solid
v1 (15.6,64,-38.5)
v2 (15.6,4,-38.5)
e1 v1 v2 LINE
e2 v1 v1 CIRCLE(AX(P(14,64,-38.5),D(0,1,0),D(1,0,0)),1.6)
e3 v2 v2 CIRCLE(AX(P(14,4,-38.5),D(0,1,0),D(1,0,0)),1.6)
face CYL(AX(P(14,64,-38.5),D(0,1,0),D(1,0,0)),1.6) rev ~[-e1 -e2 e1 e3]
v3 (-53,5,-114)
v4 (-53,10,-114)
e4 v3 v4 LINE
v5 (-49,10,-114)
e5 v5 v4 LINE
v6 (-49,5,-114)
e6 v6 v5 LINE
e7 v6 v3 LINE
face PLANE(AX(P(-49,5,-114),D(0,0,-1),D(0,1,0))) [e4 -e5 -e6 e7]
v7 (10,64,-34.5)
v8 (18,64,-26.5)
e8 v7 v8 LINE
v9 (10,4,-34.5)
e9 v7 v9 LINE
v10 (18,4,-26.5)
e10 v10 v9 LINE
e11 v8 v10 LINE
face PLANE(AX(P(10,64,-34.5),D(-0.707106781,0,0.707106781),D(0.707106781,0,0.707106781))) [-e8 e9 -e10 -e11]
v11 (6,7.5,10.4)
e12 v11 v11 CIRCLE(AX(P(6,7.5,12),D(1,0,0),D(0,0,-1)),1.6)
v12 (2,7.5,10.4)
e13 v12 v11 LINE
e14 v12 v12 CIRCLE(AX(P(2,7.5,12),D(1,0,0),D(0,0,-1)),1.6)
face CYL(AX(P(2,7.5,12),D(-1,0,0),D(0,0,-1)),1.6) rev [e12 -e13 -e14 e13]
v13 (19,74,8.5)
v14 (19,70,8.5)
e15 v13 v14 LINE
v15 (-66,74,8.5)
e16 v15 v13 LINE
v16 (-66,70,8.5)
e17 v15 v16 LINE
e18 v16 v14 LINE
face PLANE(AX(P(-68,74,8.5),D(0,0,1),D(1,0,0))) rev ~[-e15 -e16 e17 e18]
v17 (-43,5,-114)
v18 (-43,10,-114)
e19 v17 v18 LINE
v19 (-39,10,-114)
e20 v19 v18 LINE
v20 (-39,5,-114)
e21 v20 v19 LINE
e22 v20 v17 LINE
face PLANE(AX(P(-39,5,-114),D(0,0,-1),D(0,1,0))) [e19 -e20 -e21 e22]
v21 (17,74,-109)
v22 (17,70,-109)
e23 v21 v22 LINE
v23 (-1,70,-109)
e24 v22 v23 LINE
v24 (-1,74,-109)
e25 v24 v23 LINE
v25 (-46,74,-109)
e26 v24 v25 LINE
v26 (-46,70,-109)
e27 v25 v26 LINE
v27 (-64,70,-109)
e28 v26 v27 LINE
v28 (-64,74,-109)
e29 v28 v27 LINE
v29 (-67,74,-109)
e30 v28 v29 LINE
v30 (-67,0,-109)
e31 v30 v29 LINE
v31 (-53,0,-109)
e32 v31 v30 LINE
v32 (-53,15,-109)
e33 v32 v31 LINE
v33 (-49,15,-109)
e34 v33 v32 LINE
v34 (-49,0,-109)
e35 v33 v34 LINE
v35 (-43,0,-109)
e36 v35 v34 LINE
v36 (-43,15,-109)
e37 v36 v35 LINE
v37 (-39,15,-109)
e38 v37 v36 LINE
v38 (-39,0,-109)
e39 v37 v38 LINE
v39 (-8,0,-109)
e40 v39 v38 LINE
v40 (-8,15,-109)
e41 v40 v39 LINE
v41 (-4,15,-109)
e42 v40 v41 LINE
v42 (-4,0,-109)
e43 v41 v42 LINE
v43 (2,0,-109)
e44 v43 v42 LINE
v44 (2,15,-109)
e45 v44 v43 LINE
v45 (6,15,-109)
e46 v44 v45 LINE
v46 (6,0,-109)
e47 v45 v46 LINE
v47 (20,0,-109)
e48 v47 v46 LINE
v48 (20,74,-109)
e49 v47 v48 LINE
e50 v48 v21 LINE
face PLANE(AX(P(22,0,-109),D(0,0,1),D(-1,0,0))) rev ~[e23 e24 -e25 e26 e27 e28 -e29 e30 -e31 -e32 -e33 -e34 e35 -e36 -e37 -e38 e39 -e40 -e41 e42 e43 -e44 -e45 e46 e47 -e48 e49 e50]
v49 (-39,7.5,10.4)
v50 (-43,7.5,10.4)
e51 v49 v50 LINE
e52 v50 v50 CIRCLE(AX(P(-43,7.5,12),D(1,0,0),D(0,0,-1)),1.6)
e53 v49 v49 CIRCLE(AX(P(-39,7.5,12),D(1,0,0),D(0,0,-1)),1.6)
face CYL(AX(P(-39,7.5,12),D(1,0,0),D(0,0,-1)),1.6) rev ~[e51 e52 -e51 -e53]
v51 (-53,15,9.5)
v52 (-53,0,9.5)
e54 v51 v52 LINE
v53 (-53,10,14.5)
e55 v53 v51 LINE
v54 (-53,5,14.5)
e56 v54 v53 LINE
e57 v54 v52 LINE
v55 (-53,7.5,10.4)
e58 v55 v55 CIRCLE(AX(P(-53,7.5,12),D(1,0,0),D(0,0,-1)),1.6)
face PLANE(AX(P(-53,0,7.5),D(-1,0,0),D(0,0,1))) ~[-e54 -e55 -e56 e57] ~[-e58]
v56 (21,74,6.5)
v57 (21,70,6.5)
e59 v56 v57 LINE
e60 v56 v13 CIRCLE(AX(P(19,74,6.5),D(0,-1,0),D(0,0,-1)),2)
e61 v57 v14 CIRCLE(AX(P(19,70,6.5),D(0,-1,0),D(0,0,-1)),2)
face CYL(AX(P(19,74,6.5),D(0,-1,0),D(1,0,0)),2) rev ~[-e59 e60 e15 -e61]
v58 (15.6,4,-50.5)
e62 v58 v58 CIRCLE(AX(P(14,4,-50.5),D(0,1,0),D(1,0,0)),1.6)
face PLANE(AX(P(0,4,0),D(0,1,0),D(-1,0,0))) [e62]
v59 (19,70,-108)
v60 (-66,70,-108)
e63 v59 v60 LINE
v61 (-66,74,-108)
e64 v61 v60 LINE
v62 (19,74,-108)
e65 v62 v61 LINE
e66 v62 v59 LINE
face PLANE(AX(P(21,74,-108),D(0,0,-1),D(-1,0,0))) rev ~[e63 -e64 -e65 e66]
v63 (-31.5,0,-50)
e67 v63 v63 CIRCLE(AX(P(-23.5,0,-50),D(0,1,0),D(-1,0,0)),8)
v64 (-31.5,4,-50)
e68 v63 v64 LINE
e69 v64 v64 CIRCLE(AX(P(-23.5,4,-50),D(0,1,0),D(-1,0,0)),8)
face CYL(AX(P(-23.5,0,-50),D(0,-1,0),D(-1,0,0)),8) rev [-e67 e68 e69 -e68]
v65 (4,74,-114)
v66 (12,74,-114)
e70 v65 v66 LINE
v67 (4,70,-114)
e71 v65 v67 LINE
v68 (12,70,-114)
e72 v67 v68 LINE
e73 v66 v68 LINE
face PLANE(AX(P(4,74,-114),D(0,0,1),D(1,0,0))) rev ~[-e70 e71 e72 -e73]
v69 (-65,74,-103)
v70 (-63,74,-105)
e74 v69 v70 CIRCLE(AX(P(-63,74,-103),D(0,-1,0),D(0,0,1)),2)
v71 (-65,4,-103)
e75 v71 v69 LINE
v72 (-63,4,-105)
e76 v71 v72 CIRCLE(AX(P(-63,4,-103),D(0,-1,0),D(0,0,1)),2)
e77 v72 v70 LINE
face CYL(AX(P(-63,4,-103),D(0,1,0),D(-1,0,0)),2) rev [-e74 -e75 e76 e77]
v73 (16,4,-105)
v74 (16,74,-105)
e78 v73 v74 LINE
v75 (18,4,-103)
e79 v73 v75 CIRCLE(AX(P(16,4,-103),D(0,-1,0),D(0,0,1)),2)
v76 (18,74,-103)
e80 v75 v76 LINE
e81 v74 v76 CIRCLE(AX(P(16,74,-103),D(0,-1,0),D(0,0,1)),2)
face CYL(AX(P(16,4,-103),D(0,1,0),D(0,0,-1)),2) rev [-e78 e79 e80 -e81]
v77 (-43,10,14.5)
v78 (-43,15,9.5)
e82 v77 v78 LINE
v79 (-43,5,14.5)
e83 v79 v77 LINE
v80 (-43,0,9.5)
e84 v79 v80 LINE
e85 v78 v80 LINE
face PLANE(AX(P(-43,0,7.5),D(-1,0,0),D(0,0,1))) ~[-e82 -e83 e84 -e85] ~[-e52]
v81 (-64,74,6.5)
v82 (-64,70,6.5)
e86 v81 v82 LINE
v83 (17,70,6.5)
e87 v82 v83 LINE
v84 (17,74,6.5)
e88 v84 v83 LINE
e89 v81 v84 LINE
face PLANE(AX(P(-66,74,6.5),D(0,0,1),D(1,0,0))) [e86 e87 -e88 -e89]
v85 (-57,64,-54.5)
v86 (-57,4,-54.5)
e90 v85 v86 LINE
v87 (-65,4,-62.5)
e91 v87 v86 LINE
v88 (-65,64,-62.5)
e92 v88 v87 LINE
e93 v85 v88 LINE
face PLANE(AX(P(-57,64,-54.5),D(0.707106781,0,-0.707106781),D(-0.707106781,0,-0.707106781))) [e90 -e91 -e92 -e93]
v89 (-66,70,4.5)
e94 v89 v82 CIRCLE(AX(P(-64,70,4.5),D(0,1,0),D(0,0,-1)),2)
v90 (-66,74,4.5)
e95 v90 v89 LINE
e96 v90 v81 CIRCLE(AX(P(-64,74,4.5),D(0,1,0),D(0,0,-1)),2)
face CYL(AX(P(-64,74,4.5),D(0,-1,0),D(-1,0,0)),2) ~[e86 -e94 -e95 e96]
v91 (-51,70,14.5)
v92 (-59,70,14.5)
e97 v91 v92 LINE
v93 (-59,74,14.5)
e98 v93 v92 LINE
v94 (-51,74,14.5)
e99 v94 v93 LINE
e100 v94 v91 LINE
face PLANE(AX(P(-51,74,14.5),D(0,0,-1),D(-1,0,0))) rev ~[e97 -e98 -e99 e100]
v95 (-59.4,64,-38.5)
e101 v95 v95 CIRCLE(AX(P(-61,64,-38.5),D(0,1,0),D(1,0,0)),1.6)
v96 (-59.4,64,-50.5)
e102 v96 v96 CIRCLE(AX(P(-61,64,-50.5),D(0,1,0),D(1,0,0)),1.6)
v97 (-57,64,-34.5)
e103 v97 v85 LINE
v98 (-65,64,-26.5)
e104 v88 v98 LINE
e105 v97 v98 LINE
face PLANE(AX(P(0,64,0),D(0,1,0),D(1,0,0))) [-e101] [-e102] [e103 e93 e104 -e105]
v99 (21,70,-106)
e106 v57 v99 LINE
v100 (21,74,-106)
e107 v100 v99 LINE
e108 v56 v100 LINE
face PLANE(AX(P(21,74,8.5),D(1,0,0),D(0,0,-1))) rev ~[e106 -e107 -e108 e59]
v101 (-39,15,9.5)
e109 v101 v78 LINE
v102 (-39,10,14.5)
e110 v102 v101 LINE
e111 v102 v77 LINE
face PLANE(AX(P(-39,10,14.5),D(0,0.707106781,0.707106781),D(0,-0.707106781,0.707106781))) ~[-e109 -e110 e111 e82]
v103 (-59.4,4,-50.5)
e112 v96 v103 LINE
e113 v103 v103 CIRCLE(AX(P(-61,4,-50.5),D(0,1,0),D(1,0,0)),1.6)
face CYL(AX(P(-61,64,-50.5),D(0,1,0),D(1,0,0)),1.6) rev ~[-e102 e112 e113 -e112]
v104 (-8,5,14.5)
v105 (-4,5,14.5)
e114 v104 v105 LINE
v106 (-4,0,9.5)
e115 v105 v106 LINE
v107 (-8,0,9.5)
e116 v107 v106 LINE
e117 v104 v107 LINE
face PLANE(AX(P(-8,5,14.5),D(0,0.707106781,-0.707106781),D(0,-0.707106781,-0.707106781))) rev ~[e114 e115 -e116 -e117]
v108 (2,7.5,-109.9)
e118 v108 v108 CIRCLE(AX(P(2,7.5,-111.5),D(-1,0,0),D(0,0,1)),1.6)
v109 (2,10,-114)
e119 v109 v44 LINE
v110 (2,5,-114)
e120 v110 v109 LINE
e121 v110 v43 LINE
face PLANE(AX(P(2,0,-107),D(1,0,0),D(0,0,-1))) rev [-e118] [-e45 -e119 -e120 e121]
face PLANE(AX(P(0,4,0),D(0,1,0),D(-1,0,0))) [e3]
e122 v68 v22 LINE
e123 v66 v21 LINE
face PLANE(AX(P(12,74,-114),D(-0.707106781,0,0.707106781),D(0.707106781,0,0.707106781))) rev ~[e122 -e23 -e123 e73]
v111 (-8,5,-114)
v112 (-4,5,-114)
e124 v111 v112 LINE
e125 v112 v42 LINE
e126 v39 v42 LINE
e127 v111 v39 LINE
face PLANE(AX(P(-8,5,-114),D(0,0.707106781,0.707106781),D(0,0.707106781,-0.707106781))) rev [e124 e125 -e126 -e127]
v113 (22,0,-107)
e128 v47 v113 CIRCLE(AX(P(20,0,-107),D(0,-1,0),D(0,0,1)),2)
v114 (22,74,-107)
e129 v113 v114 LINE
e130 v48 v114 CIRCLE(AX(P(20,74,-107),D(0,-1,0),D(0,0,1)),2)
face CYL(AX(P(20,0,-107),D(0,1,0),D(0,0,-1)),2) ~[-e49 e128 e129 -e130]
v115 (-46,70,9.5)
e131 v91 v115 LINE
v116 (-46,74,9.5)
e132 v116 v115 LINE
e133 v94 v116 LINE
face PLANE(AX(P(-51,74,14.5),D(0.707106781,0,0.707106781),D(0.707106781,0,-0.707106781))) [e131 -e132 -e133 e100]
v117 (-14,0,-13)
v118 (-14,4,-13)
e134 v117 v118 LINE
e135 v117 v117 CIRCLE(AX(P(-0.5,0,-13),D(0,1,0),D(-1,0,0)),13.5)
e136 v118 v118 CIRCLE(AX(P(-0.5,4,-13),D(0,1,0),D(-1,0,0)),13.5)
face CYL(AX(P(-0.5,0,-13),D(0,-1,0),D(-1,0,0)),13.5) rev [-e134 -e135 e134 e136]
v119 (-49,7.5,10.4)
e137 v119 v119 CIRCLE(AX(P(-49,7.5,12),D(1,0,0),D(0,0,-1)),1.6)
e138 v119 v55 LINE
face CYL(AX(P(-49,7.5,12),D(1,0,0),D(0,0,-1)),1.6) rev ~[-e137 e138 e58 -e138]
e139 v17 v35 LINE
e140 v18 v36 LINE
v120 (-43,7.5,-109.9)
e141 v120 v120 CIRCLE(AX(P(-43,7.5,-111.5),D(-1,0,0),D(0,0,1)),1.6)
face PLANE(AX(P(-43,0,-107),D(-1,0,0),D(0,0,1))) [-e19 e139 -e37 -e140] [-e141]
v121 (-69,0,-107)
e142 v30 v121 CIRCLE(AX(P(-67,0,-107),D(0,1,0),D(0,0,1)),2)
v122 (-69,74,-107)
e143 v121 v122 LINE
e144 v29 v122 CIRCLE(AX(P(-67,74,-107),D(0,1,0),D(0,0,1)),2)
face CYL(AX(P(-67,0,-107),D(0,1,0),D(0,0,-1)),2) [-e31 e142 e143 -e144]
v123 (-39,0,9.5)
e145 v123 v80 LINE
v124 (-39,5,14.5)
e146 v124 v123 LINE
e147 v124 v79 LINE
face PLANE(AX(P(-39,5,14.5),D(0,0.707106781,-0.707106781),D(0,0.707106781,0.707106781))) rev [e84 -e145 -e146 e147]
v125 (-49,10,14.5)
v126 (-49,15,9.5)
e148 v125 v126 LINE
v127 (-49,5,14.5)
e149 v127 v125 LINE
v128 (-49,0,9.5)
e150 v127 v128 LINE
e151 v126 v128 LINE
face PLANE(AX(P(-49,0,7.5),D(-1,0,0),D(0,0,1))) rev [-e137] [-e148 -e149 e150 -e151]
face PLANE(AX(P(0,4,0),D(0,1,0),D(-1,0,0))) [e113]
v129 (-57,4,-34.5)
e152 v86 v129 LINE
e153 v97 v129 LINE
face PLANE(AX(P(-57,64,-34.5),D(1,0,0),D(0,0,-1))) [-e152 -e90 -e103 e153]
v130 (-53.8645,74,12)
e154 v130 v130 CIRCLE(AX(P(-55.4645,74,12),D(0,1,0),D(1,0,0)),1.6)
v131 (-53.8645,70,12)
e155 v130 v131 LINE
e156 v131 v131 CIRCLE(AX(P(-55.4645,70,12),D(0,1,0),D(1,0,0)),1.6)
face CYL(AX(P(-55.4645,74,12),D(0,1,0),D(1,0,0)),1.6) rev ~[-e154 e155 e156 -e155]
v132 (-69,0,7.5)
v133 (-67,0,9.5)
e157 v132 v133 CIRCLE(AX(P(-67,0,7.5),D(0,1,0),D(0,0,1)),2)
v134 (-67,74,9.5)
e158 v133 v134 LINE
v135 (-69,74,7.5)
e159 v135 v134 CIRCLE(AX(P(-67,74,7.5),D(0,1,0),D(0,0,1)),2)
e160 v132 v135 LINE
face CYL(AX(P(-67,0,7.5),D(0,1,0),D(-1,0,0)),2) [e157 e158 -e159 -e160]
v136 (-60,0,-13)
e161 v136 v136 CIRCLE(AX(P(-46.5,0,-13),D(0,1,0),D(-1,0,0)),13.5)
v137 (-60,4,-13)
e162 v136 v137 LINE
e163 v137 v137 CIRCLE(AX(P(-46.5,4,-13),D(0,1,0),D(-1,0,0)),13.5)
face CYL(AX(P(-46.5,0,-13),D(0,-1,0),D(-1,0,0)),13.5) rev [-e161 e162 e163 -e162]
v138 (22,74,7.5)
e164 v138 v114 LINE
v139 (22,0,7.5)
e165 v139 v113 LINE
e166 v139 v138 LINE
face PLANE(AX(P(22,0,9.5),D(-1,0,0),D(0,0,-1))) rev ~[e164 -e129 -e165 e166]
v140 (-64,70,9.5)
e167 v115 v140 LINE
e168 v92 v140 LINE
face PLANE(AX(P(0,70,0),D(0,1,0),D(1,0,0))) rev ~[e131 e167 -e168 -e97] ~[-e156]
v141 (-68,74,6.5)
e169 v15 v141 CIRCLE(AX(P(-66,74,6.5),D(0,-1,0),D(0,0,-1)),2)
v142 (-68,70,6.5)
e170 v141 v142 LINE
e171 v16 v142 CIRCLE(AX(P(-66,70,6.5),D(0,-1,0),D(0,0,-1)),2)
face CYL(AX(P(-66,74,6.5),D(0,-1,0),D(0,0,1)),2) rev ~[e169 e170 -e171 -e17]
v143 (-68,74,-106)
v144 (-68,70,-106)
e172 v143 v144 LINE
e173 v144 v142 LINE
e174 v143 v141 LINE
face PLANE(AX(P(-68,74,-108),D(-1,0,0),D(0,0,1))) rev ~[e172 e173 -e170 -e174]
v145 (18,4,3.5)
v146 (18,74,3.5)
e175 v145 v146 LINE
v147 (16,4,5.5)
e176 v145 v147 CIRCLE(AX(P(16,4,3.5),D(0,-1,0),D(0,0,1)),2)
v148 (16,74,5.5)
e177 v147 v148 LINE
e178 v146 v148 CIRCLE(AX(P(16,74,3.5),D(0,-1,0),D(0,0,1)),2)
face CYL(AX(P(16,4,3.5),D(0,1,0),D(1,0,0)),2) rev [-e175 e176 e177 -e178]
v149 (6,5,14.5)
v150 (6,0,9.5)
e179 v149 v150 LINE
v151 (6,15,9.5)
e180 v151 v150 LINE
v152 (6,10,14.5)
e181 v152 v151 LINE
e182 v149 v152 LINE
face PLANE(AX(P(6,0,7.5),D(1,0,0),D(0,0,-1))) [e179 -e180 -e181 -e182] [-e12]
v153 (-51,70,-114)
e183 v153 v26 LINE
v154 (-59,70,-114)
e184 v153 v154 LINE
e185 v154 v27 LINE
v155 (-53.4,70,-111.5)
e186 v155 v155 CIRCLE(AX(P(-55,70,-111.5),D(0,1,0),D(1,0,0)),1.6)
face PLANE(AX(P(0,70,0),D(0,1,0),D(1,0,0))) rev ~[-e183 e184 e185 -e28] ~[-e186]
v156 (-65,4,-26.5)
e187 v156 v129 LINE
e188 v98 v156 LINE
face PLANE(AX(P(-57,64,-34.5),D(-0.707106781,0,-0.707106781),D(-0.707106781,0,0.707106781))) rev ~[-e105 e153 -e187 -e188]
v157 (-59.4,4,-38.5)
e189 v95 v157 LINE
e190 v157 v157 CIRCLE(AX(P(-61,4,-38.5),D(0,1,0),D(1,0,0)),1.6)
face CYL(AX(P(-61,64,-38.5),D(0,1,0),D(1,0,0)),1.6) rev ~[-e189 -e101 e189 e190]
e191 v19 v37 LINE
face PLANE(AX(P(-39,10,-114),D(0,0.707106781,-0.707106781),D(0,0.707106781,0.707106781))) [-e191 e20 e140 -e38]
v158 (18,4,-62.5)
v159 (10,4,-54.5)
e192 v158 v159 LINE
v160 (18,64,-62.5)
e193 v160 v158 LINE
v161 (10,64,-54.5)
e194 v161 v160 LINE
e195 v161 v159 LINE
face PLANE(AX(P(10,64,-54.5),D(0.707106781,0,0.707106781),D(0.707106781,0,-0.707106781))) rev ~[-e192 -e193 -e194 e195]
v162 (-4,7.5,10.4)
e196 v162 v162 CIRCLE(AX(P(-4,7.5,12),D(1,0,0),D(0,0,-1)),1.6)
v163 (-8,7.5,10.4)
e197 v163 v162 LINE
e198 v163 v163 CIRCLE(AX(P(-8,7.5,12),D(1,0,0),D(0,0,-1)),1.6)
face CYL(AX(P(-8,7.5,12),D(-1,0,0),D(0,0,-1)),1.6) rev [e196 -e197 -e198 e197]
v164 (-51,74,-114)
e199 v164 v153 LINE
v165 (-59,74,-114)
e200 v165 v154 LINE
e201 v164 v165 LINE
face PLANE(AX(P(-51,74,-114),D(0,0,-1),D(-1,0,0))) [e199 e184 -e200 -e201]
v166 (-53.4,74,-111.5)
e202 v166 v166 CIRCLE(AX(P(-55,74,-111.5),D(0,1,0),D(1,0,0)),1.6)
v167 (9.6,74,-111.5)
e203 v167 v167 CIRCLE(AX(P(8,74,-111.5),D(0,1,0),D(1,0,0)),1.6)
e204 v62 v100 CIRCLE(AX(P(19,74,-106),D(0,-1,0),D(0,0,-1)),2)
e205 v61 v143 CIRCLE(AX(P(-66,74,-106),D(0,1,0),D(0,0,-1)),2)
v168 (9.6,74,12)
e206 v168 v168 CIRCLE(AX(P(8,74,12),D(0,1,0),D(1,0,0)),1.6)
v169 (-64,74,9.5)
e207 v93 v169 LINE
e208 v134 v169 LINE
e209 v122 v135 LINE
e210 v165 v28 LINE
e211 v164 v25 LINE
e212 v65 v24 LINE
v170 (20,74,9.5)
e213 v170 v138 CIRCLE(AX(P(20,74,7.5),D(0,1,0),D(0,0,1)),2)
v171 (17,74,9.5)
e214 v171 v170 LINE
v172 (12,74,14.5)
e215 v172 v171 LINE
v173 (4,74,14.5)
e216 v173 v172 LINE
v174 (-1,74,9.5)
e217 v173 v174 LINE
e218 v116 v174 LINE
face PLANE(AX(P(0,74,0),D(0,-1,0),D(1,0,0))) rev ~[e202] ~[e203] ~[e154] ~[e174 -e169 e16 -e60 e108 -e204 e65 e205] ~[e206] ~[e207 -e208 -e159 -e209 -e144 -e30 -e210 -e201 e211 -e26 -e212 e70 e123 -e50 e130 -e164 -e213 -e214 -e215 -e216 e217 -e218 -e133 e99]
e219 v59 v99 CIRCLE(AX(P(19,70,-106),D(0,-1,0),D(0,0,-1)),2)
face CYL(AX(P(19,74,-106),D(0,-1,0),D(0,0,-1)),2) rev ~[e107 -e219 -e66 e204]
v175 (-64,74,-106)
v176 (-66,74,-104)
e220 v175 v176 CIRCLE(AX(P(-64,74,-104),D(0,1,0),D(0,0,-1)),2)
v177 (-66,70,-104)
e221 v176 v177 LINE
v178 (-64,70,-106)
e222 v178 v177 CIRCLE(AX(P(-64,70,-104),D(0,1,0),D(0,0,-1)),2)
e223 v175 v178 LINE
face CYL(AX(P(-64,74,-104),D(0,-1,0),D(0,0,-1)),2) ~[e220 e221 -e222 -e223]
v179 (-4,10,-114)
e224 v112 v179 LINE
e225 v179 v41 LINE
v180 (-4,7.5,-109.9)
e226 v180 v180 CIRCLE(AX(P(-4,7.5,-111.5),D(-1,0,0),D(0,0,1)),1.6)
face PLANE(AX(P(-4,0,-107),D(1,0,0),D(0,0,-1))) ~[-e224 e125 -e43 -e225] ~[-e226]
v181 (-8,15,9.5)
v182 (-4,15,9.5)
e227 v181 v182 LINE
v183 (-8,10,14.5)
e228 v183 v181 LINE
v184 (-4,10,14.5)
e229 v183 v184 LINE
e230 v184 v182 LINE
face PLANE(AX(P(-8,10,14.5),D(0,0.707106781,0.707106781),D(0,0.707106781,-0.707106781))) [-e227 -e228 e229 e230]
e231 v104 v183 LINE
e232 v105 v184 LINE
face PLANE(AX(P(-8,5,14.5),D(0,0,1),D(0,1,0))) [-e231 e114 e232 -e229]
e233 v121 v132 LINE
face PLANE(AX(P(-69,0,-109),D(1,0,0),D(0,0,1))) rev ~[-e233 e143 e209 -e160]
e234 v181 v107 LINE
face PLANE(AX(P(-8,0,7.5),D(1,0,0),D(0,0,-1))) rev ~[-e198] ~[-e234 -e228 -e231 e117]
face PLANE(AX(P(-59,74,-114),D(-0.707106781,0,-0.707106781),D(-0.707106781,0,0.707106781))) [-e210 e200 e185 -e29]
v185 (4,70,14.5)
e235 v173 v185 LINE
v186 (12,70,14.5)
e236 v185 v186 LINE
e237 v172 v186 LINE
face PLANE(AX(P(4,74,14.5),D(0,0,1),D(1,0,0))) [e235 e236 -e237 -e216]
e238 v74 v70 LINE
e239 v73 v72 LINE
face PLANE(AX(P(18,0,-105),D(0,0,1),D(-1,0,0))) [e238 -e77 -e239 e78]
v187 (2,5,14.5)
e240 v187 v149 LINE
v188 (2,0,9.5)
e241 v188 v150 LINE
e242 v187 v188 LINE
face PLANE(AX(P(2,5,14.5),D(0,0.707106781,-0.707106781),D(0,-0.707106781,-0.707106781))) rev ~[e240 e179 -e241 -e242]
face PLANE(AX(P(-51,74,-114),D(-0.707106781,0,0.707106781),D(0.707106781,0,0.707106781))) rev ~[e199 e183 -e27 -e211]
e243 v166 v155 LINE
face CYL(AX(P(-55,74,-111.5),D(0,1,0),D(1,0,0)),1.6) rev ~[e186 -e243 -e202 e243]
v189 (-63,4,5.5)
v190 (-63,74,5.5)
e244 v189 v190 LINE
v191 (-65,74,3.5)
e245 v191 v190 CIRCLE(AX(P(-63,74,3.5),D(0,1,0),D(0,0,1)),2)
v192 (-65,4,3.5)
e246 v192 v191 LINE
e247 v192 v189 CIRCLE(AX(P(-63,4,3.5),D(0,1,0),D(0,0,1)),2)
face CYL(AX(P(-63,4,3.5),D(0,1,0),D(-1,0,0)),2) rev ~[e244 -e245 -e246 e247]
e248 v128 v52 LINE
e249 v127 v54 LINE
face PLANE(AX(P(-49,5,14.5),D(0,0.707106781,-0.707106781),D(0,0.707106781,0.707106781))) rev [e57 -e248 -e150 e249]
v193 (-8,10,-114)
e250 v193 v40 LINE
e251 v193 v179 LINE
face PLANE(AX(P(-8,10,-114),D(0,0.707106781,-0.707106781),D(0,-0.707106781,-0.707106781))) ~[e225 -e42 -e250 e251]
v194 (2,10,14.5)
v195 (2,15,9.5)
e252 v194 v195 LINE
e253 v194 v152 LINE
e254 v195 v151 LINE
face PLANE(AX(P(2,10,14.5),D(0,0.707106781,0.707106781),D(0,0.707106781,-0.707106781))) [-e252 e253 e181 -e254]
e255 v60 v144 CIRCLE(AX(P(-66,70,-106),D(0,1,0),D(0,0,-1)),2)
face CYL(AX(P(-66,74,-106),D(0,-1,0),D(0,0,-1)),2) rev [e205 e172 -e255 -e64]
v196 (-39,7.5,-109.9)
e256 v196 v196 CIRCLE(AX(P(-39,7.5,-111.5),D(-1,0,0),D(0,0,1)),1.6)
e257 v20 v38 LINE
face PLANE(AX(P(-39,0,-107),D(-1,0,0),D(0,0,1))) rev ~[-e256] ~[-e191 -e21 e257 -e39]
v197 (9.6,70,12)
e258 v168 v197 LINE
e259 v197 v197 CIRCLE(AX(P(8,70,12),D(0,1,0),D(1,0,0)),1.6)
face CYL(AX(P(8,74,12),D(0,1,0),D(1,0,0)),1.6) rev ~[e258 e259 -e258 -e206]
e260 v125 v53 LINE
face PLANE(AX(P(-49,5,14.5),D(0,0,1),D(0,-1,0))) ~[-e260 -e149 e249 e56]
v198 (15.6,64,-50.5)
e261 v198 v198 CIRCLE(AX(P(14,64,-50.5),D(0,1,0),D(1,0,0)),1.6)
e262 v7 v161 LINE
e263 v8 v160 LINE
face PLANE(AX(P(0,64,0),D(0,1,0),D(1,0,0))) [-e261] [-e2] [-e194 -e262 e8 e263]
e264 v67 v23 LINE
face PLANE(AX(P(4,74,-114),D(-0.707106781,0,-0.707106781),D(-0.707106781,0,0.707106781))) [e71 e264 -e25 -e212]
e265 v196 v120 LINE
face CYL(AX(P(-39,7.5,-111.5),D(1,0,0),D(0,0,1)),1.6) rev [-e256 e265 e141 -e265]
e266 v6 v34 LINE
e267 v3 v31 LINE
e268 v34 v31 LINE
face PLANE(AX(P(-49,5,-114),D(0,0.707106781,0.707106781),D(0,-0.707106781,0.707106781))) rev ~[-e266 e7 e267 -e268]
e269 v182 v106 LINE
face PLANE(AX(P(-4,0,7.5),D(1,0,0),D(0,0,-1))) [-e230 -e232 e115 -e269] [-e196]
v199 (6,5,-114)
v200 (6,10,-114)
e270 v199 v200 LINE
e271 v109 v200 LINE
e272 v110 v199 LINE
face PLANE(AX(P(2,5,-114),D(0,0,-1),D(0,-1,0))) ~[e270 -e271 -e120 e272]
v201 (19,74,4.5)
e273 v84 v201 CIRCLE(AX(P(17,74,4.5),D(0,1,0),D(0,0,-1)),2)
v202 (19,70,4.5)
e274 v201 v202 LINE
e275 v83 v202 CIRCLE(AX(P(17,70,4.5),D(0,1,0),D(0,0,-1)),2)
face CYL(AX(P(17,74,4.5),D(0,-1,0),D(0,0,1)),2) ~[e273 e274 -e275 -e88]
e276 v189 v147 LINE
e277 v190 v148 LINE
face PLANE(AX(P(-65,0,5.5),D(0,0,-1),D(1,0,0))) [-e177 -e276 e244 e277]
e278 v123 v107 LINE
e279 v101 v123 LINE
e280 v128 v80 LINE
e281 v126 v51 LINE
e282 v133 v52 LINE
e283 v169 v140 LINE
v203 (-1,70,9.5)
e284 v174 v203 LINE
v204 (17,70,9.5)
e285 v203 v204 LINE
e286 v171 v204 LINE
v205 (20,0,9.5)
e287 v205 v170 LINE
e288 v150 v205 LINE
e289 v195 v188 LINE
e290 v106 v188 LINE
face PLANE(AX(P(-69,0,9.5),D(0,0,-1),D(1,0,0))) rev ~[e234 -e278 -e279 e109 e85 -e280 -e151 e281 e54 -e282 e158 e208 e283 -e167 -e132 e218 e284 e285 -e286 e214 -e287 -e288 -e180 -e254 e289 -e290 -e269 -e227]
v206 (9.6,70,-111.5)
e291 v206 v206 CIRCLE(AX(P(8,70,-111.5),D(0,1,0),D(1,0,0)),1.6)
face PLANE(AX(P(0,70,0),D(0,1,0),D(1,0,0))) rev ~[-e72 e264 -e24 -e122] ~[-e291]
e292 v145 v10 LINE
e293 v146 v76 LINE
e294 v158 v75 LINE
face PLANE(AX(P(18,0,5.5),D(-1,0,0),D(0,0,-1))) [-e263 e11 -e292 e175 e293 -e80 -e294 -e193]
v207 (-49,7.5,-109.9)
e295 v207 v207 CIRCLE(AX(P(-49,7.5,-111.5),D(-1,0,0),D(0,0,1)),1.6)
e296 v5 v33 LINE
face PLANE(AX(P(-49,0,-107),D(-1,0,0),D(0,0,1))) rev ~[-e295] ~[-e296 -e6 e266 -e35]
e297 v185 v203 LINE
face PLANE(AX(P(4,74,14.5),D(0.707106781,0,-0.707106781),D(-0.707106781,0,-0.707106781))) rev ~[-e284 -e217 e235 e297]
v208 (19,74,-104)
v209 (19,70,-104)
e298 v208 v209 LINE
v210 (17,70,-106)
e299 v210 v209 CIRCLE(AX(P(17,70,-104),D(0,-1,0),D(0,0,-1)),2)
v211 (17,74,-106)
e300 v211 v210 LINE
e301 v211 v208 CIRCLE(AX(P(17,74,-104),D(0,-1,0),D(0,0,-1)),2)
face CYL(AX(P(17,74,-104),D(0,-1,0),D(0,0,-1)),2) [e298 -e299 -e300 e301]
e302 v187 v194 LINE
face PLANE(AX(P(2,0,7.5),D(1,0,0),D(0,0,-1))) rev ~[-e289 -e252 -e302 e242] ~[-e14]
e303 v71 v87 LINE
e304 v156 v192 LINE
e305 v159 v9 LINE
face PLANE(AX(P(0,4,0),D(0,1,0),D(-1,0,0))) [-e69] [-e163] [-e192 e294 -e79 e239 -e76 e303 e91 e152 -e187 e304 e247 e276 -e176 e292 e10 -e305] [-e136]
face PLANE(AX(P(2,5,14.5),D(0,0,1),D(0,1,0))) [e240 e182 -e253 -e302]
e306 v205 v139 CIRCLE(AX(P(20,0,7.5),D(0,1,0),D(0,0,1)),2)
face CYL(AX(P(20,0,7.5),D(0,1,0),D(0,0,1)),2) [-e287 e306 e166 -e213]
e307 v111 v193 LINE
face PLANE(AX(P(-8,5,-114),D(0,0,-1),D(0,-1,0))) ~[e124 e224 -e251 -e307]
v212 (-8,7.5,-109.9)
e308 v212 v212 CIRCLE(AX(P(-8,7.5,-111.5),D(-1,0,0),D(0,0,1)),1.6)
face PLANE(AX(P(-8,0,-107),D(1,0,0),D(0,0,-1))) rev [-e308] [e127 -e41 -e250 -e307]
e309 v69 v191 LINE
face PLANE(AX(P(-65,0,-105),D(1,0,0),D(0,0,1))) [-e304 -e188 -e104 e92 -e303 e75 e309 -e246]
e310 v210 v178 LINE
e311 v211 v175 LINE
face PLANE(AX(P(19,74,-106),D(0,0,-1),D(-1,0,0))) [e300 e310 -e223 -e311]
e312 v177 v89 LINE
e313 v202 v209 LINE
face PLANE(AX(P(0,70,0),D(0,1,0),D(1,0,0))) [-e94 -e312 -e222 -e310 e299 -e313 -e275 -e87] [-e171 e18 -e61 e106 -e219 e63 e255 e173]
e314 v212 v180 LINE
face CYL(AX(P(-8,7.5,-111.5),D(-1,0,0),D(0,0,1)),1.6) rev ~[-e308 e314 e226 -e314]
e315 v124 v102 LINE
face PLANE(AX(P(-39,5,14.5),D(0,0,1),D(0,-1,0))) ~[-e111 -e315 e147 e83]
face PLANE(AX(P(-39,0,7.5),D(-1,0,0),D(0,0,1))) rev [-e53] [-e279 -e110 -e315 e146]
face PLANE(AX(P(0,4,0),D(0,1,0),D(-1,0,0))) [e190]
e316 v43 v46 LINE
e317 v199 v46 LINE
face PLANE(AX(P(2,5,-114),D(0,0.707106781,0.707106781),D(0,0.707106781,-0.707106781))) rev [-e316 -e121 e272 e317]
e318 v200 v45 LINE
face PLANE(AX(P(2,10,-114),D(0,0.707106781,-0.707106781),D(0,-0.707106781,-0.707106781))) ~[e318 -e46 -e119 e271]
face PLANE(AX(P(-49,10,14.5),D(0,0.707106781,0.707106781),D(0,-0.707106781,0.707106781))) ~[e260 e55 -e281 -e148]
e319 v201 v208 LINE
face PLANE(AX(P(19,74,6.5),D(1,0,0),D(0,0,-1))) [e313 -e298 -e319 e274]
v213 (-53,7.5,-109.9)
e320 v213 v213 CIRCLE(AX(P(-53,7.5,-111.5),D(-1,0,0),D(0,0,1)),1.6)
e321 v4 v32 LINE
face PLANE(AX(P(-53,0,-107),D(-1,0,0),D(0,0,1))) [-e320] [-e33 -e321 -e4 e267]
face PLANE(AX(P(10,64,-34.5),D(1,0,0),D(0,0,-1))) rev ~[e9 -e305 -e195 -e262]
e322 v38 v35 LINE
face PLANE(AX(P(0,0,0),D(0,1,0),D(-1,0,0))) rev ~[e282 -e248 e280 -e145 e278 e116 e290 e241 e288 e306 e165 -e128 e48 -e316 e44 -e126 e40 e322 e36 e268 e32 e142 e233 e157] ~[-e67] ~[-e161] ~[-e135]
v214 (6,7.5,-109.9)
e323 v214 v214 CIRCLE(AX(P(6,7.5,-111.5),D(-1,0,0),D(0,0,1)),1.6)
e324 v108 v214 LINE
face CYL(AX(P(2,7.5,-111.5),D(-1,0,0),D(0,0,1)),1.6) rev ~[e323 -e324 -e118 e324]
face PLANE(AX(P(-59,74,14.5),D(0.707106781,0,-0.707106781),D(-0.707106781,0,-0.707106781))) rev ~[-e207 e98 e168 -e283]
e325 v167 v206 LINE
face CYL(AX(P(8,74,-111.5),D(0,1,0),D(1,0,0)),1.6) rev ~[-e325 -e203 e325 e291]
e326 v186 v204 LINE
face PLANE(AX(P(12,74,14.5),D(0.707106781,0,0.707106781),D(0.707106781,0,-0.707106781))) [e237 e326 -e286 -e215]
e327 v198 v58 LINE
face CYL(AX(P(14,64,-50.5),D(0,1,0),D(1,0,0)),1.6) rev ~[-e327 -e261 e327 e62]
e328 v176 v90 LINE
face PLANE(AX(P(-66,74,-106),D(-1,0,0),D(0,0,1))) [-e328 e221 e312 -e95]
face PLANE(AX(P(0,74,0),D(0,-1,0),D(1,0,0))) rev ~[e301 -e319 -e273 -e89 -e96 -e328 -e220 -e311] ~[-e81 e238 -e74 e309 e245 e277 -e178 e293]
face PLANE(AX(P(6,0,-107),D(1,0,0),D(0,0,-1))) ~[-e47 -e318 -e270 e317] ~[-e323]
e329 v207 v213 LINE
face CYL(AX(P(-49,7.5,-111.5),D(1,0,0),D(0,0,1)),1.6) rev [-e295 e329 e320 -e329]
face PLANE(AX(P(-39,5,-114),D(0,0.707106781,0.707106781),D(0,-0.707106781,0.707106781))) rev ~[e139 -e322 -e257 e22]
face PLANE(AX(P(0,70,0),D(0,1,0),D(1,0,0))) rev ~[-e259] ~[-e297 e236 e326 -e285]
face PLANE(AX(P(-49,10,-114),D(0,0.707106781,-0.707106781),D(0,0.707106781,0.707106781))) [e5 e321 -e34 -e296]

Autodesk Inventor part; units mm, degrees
ref_plane "YZ Plane" through (0, 0, 0) normal (1, 0, 0) x (0, 1, 0)
ref_plane "XZ Plane" through (0, 0, 0) normal (0, 1, 0) x (-1, 0, 0)
ref_plane "XY Plane" through (0, 0, 0) normal (0, 0, 1) x (1, 0, 0)
sketch "Sketch1" plane through (0, 0, 0) normal (0, 1, 0) x (-1, 0, 0)
  line L0 (0, 0) -> (47, 0) construction
  line L1 (47, 0) -> (47, -100) construction
  line L2 (47, -100) -> (0, -100) construction
  line L3 (0, -100) -> (0, 0) construction
  circle A0 centre (4, -4) radius 1.6 construction
  circle A1 centre (43, -4) radius 1.6 construction
  circle A2 centre (43, -96) radius 1.729 construction
  line L4 (23.5, 0) -> (23.5, -100) construction
  line L5 (23.5, -13) -> (18.5, -13) construction
  line L6 (18.5, -13) -> (0.5, -13) construction
  circle A3 centre (0.5, -13) radius 13.5 construction
  line L7 (23.5, -13) -> (46.5, -13) construction
  circle A4 centre (46.5, -13) radius 13.5 construction
  circle A5 centre (46.5, -13) radius 13.5
  circle A6 centre (0.5, -13) radius 13.5
  circle A7 centre (23.5, -50) radius 8
  line L8 (65, 5.5) -> (-18, 5.5)
  line L9 (-18, 5.5) -> (-18, -105)
  line L10 (-18, -105) -> (65, -105)
  line L11 (65, -105) -> (65, 5.5)
  dimension "d0" = 47
  dimension "d1" = 100
  dimension "d2" = 3.2
  dimension "d3" = 4
  dimension "d4" = 4
  dimension "d5" = 4
  dimension "d6" = 43
  dimension "d7" = 3.2
  dimension "d8" = 43
  dimension "d9" = 96
  dimension "d11" = 23.5
  dimension "d12" = 5
  dimension "d13" = 13
  dimension "d14" = 18
  dimension "d15" = 27
  dimension "d16" = 23
  dimension "d17" = 27
  dimension "d18" = 16
  dimension "d19" = 50
  dimension "d20" = 5
  dimension "d21" = 5
  dimension "d22" = 5
  dimension "d23" = 5
extrude "Extrusion1" add sketch "Sketch1" along normal blind 4
sketch "Sketch3" plane through (0, 0, 0) normal (0, -1, 0) x (1, 0, 0)
  line L0 (22, -109) -> (-69, -109)
  line L1 (-69, -109) -> (-69, 9.5)
  line L2 (-69, 9.5) -> (22, 9.5)
  line L3 (22, 9.5) -> (22, -109)
  line L4 (-65, 5.5) -> (18, 5.5) projected
  line L5 (18, 5.5) -> (18, -105) projected
  line L6 (-65, 5.5) -> (18, 5.5)
  line L7 (18, 5.5) -> (18, -105)
  line L8 (18, -105) -> (-65, -105)
  line L9 (-65, -105) -> (-65, 5.5)
  point P0 (0, 0)
  dimension "d30" = 4
  dimension "d31" = 4
  dimension "d32" = 4
  dimension "d33" = 4
extrude "Extrusion2" add sketch "Sketch3" against normal blind 74
sketch "Sketch4" plane through (0, 74, 0) normal (0, 1, 0) x (1, 0, 0)
  line L0 (-68, -8.5) -> (21, -8.5)
  line L1 (21, -8.5) -> (21, 108)
  line L2 (21, 108) -> (-68, 108)
  line L3 (-68, 108) -> (-68, -8.5)
  line L4 (19, 106) -> (-66, 106)
  line L5 (-66, 106) -> (-66, -6.5)
  line L6 (-66, -6.5) -> (19, -6.5)
  line L7 (19, -6.5) -> (19, 106)
  line L8 (-69, -9.5) -> (22, -9.5) projected
  line L9 (22, -9.5) -> (22, 109) projected
  line L10 (22, 109) -> (-69, 109) projected
  line L11 (-69, 109) -> (-69, -9.5) projected
  point P0 (0, 0)
  dimension "d36" = 1
  dimension "d37" = 2
  dimension "d38" = 1
  dimension "d39" = 2
  dimension "d40" = 1
  dimension "d41" = 2
  dimension "d42" = 1
  dimension "d43" = 2
extrude "Extrusion3" cut sketch "Sketch4" against normal blind 4 contours L3 L2 L1 L0
fillet "Fillet1" radius 2 16 edges at (-69, 37, 9.5) (-68, 72, 8.5) (-66, 72, 6.5) (-65, 39, 5.5) (19, 72, 6.5) (21, 72, 8.5) (18, 39, 5.5) (22, 37, 9.5) (22, 37, -109) (19, 72, -106) (18, 39, -105) (21, 72, -108) (-65, 39, -105) (-68, 72, -108) (-69, 37, -109) (-66, 72, -106)
ref_plane "Work Plane1" through (0, 64, 0) normal (0, 1, 0) x (1, 0, 0)
sketch "Sketch6" plane through (0, 64, 0) normal (0, 1, 0) x (1, 0, 0)
  line L0 (0, 0) -> (-47, 0) construction
  line L1 (-47, 0) -> (-47, 100) construction
  line L2 (-47, 100) -> (0, 100) construction
  line L3 (0, 100) -> (0, 0) construction
  circle A0 centre (-4, 4) radius 1.6 construction
  circle A1 centre (-42.7634, 4) radius 1.6 construction
  line L4 (18, -3.5) -> (18, 103) projected
  line L5 (10, 34.5) -> (10, 54.5)
  line L6 (16, -5.5) -> (-63, -5.5) projected
  circle A2 centre (14, 38.5) radius 1.6
  circle A3 centre (14, 50.5) radius 1.6
  line L7 (10, 34.5) -> (18, 26.5)
  line L8 (10, 34.5) -> (21.3137, 34.5) construction
  line L9 (10, 54.5) -> (18, 62.5)
  line L10 (10, 54.5) -> (21.3137, 54.5) construction
  line L11 (18, 26.5) -> (18, 62.5)
  line L12 (-57, 34.5) -> (-57, 54.5)
  line L13 (-57, 34.5) -> (-37, 34.5) construction
  line L14 (-65, 103) -> (-65, -3.5) projected
  line L15 (-57, 34.5) -> (-65, 26.5)
  line L16 (-57, 34.5) -> (-45.6863, 34.5) construction
  line L17 (-57, 54.5) -> (-65, 62.5)
  line L18 (-57, 54.5) -> (-45.6863, 54.5) construction
  line L19 (-65, 62.5) -> (-65, 26.5)
  circle A4 centre (-61, 38.5) radius 1.6
  circle A5 centre (-61, 50.5) radius 1.6
  dimension "d48" = 47
  dimension "d49" = 100
  dimension "d50" = 3.2
  dimension "d51" = 4
  dimension "d52" = 4
  dimension "d53" = 3.2
  dimension "d55" = 20
  dimension "d57" = 3.2
  dimension "d58" = 3.2
  dimension "d61" = 4
  dimension "d62" = 4
  dimension "d63" = 45
  dimension "d64" = 45
  dimension "d65" = 20
  dimension "d66" = 90
  dimension "d67" = 8
  dimension "d68" = 135
  dimension "d69" = 135
  dimension "d70" = 3.2
  dimension "d71" = 3.2
  dimension "d100" = 12
  dimension "d101" = 0
  dimension "d102" = 4
  dimension "d103" = 12
extrude "Extrusion4" add sketch "Sketch6" against normal up to next
sketch "Sketch8" plane through (0, 74, 0) normal (0, 1, 0) x (1, 0, 0)
  line L0 (-51, -14.5) -> (-59, -14.5)
  line L1 (-69, 107) -> (-69, -7.5) projected
  line L2 (4, -14.5) -> (12, -14.5)
  line L3 (22, -7.5) -> (22, 107) projected
  line L4 (-59, -14.5) -> (-64, -9.5)
  line L5 (-59, -14.5) -> (-51.9289, -14.5) construction
  line L6 (-51, -14.5) -> (-46, -9.5)
  line L7 (-51, -14.5) -> (-43.9289, -14.5) construction
  line L8 (-46, -9.5) -> (-64, -9.5)
  line L9 (-67, -9.5) -> (20, -9.5) projected
  line L10 (4, -14.5) -> (-1, -9.5)
  line L11 (4, -14.5) -> (11.0711, -14.5) construction
  line L12 (12, -14.5) -> (17, -9.5)
  line L13 (12, -14.5) -> (19.0711, -14.5) construction
  line L14 (17, -9.5) -> (-1, -9.5)
  circle A0 centre (-55.4645, -12) radius 1.6
  circle A1 centre (8, -12) radius 1.6
  line L15 (20, 109) -> (-67, 109) projected
  line L16 (-51, 114) -> (-59, 114)
  line L17 (4, 114) -> (12, 114)
  line L18 (-51, 114) -> (-46, 109)
  line L19 (-51, 114) -> (-43.9289, 114) construction
  line L20 (-59, 114) -> (-64, 109)
  line L21 (-59, 114) -> (-51.9289, 114) construction
  line L22 (-64, 109) -> (-46, 109)
  line L23 (4, 114) -> (-1, 109)
  line L24 (4, 114) -> (11.0711, 114) construction
  line L25 (12, 114) -> (17, 109)
  line L26 (-1, 109) -> (17, 109)
  circle A2 centre (-55, 111.5) radius 1.6
  circle A3 centre (8, 111.5) radius 1.6
  point P0 (0, 0)
  dimension "d74" = 8
  dimension "d77" = 8
  dimension "d80" = 135
  dimension "d81" = 45
  dimension "d82" = 135
  dimension "d83" = 45
  dimension "d84" = 3.2
  dimension "d85" = 3.2
  dimension "d86" = 8
  dimension "d89" = 8
  dimension "d91" = 10
  dimension "d92" = 10
  dimension "d93" = 45
  dimension "d94" = 135
  dimension "d95" = 135
  dimension "d96" = 3.2
  dimension "d97" = 3.2
extrude "Extrusion5" add sketch "Sketch8" against normal blind 4
sketch "Sketch9" plane through (0, 74, 0) normal (0, 1, 0) x (1, 0, 0)
  circle A0 centre (-55, 111.5) radius 1.6 projected
  circle A1 centre (-55.4645, -12) radius 1.6 projected
  circle A2 centre (8, -12) radius 1.6 projected
  circle A3 centre (8, 111.5) radius 1.6 projected
  arc A4 (-67, 109) -> (-69, 107) centre (-67, 107) ccw projected
  line L0 (-69, 107) -> (-69, -7.5) projected
  arc A5 (-69, -7.5) -> (-67, -9.5) centre (-67, -7.5) ccw projected
  line L1 (-67, -9.5) -> (-64, -9.5) projected
  line L2 (-59, -14.5) -> (-64, -9.5) projected
  line L3 (-51, -14.5) -> (-59, -14.5) projected
  line L4 (-46, -9.5) -> (-51, -14.5) projected
  line L5 (-46, -9.5) -> (-1, -9.5) projected
  line L6 (-1, -9.5) -> (4, -14.5) projected
  line L7 (4, -14.5) -> (12, -14.5) projected
  line L8 (12, -14.5) -> (17, -9.5) projected
  line L9 (17, -9.5) -> (20, -9.5) projected
  arc A6 (20, -9.5) -> (22, -7.5) centre (20, -7.5) ccw projected
  line L10 (22, -7.5) -> (22, 107) projected
  arc A7 (22, 107) -> (20, 109) centre (20, 107) ccw projected
  line L11 (20, 109) -> (17, 109) projected
  line L12 (17, 109) -> (12, 114) projected
  line L13 (12, 114) -> (4, 114) projected
  line L14 (4, 114) -> (-1, 109) projected
  line L15 (-1, 109) -> (-46, 109) projected
  line L16 (-46, 109) -> (-51, 114) projected
  line L17 (-51, 114) -> (-59, 114) projected
  line L18 (-59, 114) -> (-64, 109) projected
  line L19 (-64, 109) -> (-67, 109) projected
  line L20 (21, 106) -> (21, -6.5) projected
  arc A8 (19, -8.5) -> (21, -6.5) centre (19, -6.5) ccw projected
  line L21 (19, -8.5) -> (-66, -8.5) projected
  arc A9 (-68, -6.5) -> (-66, -8.5) centre (-66, -6.5) ccw projected
  line L22 (-68, -6.5) -> (-68, 106) projected
  arc A10 (-66, 108) -> (-68, 106) centre (-66, 106) ccw projected
  line L23 (-66, 108) -> (19, 108) projected
  arc A11 (21, 106) -> (19, 108) centre (19, 106) ccw projected
  point P0 (0, 0)
ref_plane "Work Plane2" through (2, 0, 7.5) normal (1, 0, 0) x (0, 0, -1)
sketch "Sketch10" plane through (2, 0, 7.5) normal (1, 0, 0) x (0, 0, -1)
  line L0 (-7, 5) -> (-7, 10)
  line L1 (0, 0) -> (114.5, 0) projected
  line L2 (-7, 5) -> (-2, 0)
  line L3 (-7, 10) -> (-2, 15)
  line L4 (-2, 15) -> (-2, 0)
  line L5 (0, 74) -> (0, 0) projected
  circle A0 centre (-4.5, 7.5) radius 1.6
  point P0 (7.5, 0)
  dimension "d106" = 5
  dimension "d108" = 3.2
extrude "Extrusion6" add sketch "Sketch10" along normal blind 4
ref_plane "Work Plane3" through (-23.5, 0, 7.5) normal (1, 0, 0) x (0, 0, -1)
ref_plane "Work Plane5" through (20, 0, -49.75) normal (0, 0, 1) x (1, 0, 0)
pattern_linear "Rectangular Pattern1" count 2 spacing 10 along (-1, 0, 0) of "Extrusion6"
mirror "Mirror3" about plane through (-23.5, 0, 7.5) normal (1, 0, 0) of "Extrusion6", "Rectangular Pattern1"
mirror "Mirror4" about plane through (20, 0, -49.75) normal (0, 0, 1) of "Extrusion6", "Rectangular Pattern1", "Mirror3"
properties part number "Base"
